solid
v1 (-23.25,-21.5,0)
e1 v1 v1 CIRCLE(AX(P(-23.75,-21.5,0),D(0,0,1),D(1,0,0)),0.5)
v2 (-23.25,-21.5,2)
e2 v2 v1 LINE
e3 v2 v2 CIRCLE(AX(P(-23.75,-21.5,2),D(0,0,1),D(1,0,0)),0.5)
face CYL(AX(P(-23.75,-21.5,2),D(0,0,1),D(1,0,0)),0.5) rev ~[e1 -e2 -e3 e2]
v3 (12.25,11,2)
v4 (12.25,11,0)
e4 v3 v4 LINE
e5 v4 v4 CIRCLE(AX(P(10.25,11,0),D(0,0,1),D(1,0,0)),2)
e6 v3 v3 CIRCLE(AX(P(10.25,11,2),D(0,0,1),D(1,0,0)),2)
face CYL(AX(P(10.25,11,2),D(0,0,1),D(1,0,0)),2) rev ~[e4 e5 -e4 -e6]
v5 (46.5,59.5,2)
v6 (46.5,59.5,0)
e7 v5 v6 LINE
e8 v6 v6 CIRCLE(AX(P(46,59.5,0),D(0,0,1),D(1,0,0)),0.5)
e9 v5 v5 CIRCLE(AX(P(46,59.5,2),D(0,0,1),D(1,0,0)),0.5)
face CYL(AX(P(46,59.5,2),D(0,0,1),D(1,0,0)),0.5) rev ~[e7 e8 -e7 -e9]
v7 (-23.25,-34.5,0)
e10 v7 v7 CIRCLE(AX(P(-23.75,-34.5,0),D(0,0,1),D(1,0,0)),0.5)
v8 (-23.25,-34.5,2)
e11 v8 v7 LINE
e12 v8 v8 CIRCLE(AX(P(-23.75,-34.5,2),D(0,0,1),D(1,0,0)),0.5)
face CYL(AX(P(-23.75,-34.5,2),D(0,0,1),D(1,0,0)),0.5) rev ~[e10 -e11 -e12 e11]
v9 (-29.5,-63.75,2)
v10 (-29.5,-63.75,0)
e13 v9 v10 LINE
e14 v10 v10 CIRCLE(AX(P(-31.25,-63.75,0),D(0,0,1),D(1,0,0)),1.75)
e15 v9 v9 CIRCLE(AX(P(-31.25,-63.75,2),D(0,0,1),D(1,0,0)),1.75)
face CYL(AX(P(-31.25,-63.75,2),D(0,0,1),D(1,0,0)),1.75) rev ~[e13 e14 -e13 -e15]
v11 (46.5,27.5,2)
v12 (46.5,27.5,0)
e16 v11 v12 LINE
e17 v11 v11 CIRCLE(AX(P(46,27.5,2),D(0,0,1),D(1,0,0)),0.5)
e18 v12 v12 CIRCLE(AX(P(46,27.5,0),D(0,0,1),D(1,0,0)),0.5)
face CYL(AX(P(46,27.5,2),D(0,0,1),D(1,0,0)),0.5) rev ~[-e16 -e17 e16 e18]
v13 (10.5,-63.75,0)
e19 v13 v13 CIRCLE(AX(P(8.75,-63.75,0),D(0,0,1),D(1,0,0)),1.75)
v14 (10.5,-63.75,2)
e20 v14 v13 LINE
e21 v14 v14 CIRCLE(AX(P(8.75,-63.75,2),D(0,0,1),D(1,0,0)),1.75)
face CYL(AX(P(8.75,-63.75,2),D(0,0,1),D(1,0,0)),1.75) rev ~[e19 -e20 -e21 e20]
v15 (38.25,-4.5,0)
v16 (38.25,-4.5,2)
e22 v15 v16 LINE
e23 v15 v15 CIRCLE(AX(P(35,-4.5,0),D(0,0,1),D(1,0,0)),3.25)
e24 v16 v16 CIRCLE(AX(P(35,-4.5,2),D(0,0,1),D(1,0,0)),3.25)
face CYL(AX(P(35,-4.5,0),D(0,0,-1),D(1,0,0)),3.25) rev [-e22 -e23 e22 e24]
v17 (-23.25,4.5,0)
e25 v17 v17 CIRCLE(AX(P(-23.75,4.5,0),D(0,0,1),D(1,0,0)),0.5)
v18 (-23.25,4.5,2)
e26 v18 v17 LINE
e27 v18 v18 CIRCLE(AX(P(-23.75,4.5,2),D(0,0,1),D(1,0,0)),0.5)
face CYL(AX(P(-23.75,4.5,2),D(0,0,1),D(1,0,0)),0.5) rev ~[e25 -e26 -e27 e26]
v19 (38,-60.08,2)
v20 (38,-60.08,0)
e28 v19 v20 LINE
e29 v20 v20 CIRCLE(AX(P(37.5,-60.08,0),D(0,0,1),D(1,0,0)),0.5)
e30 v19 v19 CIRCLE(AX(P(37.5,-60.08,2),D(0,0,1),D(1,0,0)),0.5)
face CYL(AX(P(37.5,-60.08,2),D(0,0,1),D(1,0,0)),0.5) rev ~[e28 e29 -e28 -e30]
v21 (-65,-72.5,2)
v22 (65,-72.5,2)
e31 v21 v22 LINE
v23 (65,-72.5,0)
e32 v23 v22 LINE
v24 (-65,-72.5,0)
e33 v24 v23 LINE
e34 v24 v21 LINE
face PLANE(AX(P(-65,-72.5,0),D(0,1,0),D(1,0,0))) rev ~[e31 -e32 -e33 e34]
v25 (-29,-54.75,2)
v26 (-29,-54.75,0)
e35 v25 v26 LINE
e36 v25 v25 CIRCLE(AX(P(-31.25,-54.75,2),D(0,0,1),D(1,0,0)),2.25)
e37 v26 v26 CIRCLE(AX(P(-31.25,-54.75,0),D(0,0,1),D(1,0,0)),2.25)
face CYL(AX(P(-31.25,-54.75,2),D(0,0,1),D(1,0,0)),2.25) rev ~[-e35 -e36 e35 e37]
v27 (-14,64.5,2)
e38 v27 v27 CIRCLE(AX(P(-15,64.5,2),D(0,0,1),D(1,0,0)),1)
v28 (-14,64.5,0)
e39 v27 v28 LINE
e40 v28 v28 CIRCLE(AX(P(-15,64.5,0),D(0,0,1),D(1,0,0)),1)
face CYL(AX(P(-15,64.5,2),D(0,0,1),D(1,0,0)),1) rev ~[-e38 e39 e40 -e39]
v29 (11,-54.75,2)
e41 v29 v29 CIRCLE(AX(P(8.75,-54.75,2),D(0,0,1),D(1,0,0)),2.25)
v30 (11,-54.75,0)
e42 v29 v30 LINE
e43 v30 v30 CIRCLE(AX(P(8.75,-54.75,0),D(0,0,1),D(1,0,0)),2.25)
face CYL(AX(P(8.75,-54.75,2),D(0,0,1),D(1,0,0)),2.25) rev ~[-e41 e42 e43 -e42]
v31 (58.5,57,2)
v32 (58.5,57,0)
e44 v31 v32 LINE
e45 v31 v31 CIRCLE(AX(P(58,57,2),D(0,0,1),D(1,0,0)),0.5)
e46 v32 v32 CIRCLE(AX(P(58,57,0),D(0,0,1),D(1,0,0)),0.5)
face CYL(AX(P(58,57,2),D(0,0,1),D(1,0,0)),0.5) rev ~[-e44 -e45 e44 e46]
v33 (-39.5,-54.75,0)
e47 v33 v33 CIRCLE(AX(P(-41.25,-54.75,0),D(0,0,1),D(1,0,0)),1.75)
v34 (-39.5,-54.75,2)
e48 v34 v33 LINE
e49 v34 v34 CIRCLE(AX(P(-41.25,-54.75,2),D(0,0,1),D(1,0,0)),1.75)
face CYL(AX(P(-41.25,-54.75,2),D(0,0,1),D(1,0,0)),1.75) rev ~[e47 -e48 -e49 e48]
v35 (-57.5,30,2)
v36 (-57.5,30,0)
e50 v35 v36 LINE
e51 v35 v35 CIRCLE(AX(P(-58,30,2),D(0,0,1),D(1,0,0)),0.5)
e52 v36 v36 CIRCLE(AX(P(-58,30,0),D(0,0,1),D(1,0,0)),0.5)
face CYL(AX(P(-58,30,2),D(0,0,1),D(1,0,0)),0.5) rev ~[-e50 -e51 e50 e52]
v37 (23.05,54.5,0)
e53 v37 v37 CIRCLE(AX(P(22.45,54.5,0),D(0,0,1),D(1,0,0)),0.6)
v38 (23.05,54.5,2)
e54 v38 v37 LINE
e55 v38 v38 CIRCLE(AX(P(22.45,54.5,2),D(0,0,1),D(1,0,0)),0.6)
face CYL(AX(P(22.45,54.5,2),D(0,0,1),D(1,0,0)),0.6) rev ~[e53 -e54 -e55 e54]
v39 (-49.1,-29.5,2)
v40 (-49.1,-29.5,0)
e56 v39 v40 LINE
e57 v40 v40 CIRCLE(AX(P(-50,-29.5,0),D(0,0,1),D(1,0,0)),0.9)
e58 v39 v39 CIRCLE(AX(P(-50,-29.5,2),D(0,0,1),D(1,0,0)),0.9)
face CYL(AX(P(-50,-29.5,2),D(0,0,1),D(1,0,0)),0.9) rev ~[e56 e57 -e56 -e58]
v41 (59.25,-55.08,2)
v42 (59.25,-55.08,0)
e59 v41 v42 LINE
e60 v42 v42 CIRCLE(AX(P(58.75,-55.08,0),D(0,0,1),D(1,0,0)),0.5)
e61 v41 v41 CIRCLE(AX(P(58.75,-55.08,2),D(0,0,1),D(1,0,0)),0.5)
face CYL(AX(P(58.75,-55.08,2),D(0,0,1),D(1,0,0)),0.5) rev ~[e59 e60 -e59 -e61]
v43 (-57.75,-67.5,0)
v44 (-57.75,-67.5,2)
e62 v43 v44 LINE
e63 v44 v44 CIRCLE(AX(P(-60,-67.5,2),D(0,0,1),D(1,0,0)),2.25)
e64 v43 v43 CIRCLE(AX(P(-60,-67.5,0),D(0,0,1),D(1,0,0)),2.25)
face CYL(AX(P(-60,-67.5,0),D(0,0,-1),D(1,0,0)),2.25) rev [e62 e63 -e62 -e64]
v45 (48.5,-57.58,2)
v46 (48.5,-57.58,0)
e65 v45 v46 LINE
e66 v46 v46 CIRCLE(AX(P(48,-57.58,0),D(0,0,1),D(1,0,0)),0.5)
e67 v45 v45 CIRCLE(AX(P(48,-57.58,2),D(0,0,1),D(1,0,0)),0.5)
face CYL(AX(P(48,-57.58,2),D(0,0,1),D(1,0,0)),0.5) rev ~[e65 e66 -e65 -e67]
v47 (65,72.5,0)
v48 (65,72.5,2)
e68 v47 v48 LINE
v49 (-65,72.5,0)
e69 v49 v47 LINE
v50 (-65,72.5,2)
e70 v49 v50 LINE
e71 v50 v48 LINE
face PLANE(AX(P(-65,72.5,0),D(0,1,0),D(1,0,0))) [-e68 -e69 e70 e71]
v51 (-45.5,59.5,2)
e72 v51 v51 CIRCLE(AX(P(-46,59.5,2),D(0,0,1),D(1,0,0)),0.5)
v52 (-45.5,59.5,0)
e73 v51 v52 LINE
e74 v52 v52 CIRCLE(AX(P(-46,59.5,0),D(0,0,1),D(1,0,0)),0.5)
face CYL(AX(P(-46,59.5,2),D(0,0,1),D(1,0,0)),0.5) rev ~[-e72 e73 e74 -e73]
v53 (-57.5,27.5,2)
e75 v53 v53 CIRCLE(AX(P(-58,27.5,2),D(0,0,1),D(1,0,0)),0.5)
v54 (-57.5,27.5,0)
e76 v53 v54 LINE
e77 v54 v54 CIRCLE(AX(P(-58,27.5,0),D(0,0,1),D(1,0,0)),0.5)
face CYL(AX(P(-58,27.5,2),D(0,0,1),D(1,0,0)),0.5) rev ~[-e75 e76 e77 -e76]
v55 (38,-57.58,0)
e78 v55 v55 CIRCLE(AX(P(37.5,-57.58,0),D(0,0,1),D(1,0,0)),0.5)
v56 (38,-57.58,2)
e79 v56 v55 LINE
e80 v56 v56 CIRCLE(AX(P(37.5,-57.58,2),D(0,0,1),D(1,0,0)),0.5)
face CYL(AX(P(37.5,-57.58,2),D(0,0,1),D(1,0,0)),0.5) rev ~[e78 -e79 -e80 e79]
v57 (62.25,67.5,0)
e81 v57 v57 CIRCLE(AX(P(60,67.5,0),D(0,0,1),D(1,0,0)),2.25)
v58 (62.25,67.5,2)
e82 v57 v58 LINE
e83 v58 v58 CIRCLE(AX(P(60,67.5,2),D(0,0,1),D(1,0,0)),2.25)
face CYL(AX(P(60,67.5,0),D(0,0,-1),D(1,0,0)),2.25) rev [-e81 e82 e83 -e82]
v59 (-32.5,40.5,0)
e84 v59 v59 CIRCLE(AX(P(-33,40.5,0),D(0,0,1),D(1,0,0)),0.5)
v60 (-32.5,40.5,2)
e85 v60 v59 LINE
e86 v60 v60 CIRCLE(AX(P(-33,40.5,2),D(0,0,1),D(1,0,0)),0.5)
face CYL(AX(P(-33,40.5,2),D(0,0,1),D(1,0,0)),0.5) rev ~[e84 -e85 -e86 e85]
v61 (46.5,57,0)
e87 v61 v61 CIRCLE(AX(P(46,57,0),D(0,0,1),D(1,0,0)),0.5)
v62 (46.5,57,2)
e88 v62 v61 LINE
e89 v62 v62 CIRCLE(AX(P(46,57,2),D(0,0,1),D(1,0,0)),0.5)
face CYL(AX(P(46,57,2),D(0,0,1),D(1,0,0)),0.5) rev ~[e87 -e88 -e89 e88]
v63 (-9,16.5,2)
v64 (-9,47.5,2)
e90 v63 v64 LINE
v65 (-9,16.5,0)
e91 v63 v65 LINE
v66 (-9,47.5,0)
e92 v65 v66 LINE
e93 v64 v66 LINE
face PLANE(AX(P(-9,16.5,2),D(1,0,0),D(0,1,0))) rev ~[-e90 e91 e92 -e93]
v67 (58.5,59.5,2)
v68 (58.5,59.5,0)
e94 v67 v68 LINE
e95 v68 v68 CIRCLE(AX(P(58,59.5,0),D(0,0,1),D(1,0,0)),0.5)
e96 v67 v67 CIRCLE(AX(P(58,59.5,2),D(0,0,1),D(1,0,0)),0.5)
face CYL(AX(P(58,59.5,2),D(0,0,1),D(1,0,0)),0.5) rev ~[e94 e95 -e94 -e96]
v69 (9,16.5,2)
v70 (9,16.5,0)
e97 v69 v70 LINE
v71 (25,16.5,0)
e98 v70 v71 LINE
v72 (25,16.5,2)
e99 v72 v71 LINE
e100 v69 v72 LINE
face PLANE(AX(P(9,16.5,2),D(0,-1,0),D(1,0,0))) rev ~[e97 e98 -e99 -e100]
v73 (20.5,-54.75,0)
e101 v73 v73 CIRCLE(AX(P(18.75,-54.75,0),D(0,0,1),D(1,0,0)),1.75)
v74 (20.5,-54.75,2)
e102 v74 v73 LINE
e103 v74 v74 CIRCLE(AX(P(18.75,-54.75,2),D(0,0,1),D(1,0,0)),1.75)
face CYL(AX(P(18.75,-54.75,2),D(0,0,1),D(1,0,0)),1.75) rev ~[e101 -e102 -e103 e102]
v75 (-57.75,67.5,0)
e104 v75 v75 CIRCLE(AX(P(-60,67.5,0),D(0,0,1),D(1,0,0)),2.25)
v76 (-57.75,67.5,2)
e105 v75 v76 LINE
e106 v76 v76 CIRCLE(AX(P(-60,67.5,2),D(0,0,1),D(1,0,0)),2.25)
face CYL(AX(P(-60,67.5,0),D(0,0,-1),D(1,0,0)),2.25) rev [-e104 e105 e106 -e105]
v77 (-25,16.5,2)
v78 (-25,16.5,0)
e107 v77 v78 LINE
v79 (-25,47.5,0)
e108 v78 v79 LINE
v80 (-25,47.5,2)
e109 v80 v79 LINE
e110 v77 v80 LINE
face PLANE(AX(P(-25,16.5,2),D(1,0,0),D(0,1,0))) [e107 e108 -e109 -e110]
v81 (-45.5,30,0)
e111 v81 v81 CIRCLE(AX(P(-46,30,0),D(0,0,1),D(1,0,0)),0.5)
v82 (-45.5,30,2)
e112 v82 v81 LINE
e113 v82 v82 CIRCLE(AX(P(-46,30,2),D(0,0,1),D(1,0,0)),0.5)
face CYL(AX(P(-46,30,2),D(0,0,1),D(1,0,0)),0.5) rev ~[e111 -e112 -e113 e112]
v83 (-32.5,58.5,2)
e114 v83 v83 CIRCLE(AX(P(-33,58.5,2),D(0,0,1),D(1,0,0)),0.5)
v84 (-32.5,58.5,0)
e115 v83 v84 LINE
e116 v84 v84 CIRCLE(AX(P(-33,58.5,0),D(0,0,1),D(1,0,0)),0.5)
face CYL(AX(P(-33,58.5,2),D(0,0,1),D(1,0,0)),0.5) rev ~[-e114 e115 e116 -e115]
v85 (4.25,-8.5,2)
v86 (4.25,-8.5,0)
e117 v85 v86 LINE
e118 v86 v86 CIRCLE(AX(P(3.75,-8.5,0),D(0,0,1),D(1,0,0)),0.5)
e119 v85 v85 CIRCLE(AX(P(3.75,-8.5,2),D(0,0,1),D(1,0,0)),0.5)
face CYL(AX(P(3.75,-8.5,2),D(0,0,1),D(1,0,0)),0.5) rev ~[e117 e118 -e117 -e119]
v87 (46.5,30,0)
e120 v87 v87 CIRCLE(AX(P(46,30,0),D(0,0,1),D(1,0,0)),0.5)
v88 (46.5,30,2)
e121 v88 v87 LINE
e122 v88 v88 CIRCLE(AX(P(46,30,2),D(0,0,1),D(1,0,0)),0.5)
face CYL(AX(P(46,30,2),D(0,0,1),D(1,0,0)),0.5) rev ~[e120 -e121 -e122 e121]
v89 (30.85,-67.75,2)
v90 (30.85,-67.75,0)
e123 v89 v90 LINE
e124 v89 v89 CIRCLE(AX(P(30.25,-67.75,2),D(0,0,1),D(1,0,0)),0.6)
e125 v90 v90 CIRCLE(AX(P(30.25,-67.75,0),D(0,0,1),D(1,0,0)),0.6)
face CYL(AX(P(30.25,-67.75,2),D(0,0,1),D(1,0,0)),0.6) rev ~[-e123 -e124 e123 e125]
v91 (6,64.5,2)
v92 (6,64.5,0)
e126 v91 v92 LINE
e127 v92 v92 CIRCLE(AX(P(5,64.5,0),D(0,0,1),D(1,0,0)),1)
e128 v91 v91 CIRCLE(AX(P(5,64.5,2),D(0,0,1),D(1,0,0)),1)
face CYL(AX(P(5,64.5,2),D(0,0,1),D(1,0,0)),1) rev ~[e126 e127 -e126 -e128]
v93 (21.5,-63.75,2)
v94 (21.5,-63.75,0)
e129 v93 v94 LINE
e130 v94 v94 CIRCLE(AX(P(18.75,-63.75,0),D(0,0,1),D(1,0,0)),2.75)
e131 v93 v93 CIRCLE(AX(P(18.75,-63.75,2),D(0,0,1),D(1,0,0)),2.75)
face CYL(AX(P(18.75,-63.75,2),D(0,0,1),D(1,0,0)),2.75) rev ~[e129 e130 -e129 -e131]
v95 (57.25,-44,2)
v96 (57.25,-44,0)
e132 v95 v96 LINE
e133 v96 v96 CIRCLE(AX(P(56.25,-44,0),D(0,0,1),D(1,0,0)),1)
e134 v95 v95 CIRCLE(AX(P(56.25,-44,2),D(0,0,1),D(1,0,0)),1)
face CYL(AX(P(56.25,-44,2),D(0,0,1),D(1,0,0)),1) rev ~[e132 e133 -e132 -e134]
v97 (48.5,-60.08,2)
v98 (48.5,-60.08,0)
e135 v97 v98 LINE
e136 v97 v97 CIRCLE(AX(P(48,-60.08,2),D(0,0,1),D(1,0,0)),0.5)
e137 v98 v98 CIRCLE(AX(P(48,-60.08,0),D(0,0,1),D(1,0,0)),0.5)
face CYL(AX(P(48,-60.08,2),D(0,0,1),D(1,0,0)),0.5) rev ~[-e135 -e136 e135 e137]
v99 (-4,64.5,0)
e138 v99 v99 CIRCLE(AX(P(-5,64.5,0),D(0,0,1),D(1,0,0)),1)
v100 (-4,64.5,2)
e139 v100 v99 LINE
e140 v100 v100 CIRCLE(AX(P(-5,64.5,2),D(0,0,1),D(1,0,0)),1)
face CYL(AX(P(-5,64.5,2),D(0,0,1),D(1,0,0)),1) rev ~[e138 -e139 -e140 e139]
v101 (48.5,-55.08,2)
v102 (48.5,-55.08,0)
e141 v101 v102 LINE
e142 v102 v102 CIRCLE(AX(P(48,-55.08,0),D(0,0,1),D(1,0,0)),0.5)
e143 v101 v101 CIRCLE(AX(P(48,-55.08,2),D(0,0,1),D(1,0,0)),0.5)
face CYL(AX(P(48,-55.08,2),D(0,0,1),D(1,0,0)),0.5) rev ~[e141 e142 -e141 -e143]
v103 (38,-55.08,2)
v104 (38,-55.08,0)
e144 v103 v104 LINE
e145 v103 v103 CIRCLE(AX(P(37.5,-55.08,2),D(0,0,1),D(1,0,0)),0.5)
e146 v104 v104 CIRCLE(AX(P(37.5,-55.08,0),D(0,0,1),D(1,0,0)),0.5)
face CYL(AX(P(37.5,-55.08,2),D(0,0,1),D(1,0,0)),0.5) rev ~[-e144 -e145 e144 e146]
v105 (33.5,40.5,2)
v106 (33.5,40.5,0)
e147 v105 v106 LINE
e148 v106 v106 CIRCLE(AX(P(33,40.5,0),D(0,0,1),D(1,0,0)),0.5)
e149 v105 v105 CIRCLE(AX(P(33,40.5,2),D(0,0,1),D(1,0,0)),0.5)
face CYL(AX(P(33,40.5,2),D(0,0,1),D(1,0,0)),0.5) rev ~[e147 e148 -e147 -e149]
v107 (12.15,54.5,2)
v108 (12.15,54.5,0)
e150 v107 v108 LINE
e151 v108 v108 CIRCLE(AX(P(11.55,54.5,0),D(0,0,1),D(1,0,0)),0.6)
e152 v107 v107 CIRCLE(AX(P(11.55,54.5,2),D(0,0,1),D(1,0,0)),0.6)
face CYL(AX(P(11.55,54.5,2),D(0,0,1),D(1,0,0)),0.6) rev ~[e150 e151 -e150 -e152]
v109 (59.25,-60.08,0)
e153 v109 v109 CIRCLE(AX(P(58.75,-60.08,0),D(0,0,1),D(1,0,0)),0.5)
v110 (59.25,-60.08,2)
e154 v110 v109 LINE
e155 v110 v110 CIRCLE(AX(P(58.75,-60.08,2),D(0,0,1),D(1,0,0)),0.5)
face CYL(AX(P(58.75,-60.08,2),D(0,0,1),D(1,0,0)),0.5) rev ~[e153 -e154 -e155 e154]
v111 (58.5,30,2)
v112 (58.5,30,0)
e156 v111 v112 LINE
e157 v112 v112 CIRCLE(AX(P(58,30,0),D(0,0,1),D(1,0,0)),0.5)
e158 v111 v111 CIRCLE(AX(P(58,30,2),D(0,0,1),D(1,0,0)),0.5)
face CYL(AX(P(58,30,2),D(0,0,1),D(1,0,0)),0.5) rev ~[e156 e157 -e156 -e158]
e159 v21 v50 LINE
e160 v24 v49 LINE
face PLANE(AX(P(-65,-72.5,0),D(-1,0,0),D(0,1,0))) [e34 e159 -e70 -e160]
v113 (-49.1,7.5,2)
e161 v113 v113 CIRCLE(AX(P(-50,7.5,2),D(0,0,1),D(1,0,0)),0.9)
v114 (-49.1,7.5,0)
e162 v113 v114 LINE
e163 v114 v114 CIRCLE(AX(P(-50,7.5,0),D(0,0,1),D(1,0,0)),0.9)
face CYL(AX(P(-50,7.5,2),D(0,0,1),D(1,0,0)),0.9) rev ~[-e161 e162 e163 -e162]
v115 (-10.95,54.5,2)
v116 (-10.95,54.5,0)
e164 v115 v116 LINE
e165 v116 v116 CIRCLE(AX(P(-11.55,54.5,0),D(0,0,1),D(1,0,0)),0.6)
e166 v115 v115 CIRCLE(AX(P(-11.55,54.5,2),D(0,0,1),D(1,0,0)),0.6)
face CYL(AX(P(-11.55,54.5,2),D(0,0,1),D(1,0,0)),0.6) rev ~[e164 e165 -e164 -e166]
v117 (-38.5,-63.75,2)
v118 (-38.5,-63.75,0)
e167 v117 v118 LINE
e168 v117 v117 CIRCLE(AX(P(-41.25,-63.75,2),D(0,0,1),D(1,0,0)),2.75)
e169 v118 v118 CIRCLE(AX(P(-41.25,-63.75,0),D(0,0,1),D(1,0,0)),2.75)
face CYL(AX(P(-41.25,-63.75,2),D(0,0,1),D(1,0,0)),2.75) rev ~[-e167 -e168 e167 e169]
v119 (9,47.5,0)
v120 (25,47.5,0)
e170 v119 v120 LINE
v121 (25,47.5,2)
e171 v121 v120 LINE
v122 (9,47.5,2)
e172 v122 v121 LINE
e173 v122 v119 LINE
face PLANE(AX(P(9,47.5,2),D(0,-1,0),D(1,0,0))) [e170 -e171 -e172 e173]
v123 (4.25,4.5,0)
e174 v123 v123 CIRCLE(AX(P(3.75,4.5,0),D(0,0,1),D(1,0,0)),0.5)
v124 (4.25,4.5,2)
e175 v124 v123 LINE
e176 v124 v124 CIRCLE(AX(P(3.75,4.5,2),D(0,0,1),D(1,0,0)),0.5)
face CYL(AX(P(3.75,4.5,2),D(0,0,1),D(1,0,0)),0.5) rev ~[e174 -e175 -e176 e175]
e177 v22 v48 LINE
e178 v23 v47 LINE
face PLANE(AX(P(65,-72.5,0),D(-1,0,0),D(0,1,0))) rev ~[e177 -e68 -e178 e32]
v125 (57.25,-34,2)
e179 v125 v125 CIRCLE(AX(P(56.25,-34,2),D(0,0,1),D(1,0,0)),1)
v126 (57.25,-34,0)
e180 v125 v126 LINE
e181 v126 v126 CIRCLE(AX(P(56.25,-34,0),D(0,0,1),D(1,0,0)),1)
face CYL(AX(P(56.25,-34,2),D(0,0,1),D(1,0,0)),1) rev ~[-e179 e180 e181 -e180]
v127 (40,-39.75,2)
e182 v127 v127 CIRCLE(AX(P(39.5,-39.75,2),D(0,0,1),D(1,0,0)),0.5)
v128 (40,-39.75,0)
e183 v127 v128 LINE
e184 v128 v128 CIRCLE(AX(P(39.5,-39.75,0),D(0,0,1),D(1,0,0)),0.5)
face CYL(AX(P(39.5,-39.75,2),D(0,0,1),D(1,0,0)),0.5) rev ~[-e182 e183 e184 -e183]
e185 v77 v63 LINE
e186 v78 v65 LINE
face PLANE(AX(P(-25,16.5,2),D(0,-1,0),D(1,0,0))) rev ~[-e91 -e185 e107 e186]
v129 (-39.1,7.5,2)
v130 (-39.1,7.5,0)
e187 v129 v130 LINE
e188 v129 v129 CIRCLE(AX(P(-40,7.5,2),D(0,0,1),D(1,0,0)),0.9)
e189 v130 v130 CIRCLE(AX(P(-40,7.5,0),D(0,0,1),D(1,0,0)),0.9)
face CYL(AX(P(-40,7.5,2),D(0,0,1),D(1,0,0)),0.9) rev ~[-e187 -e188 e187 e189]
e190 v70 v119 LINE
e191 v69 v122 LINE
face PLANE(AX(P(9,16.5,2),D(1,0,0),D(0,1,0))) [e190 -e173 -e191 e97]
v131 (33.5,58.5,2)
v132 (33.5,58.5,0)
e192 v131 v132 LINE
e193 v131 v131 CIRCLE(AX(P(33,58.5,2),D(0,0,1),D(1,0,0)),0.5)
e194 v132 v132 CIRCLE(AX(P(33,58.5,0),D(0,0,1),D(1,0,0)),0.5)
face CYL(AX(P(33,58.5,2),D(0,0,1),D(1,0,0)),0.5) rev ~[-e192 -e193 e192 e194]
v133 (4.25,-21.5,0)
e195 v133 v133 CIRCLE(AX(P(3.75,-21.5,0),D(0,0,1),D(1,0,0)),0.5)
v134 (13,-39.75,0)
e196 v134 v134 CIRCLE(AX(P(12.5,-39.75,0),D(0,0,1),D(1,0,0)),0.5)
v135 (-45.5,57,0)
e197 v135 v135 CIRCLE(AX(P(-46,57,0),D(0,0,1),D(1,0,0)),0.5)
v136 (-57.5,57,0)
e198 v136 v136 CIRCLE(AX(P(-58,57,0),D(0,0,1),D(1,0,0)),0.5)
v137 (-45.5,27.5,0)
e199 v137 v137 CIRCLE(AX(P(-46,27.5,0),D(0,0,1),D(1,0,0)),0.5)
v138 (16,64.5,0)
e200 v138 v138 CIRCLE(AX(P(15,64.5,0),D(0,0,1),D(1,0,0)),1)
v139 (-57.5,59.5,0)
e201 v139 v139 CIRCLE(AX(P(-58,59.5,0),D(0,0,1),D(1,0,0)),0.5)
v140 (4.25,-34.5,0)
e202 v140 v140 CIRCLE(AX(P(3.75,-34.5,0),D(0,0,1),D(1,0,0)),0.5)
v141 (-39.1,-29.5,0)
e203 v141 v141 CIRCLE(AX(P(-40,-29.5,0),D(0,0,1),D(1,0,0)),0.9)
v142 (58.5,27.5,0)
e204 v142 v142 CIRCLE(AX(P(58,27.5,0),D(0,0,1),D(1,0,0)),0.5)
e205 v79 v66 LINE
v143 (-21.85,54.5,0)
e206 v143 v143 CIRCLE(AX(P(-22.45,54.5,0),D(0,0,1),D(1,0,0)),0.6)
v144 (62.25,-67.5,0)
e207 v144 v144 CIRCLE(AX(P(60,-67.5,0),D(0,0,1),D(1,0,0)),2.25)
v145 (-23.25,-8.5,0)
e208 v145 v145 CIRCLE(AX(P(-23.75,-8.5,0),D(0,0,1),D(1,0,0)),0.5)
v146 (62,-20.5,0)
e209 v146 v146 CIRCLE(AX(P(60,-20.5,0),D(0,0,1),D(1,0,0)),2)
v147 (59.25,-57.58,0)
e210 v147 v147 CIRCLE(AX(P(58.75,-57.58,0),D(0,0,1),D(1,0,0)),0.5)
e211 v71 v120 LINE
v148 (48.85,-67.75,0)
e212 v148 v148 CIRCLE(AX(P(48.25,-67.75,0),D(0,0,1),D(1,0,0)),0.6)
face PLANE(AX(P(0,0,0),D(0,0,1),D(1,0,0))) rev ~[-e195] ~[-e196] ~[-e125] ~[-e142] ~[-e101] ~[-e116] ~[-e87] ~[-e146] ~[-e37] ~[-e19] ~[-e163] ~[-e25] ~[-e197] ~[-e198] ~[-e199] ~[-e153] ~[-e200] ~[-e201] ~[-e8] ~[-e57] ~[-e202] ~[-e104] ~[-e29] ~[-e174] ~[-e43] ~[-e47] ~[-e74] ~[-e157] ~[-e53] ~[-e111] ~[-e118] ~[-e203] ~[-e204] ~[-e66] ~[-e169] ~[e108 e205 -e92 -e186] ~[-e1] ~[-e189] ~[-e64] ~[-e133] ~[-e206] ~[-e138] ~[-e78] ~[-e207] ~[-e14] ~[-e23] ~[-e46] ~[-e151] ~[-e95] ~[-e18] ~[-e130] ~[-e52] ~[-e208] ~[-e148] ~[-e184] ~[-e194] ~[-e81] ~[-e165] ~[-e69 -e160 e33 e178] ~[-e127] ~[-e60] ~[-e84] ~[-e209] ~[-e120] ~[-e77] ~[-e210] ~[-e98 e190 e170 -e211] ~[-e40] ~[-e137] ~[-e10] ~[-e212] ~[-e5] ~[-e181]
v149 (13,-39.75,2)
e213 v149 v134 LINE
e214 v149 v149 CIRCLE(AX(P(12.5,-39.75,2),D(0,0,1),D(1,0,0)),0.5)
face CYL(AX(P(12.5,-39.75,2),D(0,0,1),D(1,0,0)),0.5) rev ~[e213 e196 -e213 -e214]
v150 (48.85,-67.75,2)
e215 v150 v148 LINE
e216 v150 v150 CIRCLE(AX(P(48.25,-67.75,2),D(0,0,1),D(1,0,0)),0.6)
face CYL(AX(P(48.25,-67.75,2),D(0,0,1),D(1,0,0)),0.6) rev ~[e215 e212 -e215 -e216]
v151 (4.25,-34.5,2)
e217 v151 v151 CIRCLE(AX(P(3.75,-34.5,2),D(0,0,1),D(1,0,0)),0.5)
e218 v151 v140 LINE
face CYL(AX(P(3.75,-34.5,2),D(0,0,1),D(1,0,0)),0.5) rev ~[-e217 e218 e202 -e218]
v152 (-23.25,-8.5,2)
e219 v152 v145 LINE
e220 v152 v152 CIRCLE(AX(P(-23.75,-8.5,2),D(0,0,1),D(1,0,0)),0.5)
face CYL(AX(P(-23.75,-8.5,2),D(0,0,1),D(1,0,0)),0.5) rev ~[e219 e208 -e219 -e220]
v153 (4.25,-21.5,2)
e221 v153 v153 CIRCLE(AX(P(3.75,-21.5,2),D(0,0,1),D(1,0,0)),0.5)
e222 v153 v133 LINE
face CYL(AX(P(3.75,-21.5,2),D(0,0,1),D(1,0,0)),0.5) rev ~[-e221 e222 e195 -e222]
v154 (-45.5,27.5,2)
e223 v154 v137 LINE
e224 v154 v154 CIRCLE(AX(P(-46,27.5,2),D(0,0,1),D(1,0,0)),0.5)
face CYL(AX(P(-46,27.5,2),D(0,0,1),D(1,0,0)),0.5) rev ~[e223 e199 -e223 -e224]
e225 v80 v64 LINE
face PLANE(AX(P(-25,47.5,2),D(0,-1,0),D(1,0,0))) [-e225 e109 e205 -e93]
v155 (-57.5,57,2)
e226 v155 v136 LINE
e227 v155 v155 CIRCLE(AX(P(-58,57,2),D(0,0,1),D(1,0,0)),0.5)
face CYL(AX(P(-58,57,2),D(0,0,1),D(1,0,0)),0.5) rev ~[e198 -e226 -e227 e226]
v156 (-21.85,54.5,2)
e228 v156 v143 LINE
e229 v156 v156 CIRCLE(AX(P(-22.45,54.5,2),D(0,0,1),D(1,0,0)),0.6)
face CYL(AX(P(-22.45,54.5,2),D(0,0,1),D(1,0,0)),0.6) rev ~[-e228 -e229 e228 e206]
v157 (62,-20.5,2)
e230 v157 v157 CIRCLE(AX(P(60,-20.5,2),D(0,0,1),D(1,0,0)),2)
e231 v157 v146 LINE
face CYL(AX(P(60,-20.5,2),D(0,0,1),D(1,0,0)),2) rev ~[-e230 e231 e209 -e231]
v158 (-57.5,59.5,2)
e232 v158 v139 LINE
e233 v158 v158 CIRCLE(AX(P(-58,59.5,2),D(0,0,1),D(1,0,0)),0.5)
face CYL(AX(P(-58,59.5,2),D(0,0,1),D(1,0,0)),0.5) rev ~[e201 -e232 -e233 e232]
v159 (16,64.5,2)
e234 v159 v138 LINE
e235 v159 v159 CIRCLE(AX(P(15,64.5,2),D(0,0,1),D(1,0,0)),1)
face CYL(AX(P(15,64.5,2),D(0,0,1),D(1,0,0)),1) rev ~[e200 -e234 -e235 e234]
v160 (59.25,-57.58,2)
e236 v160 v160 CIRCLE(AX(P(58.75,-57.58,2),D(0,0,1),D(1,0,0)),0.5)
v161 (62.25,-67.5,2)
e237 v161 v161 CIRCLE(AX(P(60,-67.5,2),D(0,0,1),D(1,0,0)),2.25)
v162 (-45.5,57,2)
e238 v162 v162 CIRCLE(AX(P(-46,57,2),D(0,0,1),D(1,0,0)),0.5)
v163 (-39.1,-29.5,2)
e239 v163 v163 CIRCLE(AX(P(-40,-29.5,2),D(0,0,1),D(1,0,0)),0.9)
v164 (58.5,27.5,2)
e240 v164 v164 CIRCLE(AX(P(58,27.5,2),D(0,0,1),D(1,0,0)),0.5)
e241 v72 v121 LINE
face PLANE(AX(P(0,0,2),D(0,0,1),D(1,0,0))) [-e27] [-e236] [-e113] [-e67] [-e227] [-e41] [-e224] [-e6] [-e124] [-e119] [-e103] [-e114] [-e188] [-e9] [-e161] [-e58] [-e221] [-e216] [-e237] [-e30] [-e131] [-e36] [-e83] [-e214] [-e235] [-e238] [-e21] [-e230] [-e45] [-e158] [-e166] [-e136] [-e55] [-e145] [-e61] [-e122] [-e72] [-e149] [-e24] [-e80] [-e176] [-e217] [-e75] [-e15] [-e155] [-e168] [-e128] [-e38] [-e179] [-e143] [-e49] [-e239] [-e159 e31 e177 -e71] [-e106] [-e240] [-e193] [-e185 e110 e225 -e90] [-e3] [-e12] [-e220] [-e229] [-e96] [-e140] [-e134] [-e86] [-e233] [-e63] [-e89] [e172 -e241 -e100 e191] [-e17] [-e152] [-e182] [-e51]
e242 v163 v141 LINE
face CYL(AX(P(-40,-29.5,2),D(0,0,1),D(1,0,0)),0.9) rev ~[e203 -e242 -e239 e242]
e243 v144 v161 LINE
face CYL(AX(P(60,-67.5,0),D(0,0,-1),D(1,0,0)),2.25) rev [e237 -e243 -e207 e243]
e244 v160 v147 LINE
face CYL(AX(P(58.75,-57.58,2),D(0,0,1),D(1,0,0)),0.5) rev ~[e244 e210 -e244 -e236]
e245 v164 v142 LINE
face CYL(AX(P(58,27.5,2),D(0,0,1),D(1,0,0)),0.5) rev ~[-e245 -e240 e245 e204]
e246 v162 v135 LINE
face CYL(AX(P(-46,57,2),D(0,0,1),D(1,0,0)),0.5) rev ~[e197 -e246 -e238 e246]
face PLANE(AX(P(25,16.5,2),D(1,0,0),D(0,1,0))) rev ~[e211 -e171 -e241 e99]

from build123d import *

# Parameters (mm, degrees)
SKETCH_1_W          = 130
SKETCH_1_H          = 145
SKETCH_1_R          = 2.25
SKETCH_1_R_2        = 3.25
EXTRUDE_1_DEPTH     = 2
SKETCH_2_R          = 1.75
SKETCH_2_R_2        = 0.5
SKETCH_2_R_3        = 1
SKETCH_2_R_4        = 2
SKETCH_2_R_5        = 2.75
SKETCH_2_R_6        = 2.25
CUT_EXTRUDE_1_DEPTH = 2
SKETCH_3_R          = 1
SKETCH_3_R_2        = 0.6
SKETCH_3_W          = 16
SKETCH_3_H          = 31
CUT_EXTRUDE_2_DEPTH = 2
SKETCH_4_R          = 0.9
SKETCH_4_R_2        = 0.5
SKETCH_4_R_3        = 0.6
CUT_EXTRUDE_3_DEPTH = 2
SKETCH_5_R          = 0.5
CUT_EXTRUDE_4_DEPTH = 2


with BuildPart() as part:
    # Эскиз1 → Вытянуть1 (new body)
    with BuildSketch(Plane.XY):
        Rectangle(SKETCH_1_W, SKETCH_1_H)
        with Locations((-60, -67.5)):
            Circle(SKETCH_1_R, mode=Mode.SUBTRACT)
        with Locations((60, -67.5)):
            Circle(SKETCH_1_R, mode=Mode.SUBTRACT)
        with Locations((60, 67.5)):
            Circle(SKETCH_1_R, mode=Mode.SUBTRACT)
        with Locations((-60, 67.5)):
            Circle(SKETCH_1_R, mode=Mode.SUBTRACT)
        with Locations((35, -4.5)):
            Circle(SKETCH_1_R_2, mode=Mode.SUBTRACT)
    extrude(amount=EXTRUDE_1_DEPTH)

    # Эскиз2 → Вырез-Вытянуть1 (cut)
    with BuildSketch(Plane.XY.offset(2)):
        with Locations((-41.25, -54.75)):
            Circle(SKETCH_2_R)
        with Locations((18.75, -54.75)):
            Circle(SKETCH_2_R)
        with Locations((37.5, -55.08)):
            Circle(SKETCH_2_R_2)
        with Locations((37.5, -57.58)):
            Circle(SKETCH_2_R_2)
        with Locations((37.5, -60.08)):
            Circle(SKETCH_2_R_2)
        with Locations((48, -57.58)):
            Circle(SKETCH_2_R_2)
        with Locations((48, -60.08)):
            Circle(SKETCH_2_R_2)
        with Locations((48, -55.08)):
            Circle(SKETCH_2_R_2)
        with Locations((58.75, -55.08)):
            Circle(SKETCH_2_R_2)
        with Locations((58.75, -57.58)):
            Circle(SKETCH_2_R_2)
        with Locations((58.75, -60.08)):
            Circle(SKETCH_2_R_2)
        with Locations((-15, 64.5)):
            Circle(SKETCH_2_R_3)
        with Locations((-5, 64.5)):
            Circle(SKETCH_2_R_3)
        with Locations((5, 64.5)):
            Circle(SKETCH_2_R_3)
        with Locations((15, 64.5)):
            Circle(SKETCH_2_R_3)
        with Locations((60, -20.5)):
            Circle(SKETCH_2_R_4)
        with Locations((10.25, 11)):
            Circle(SKETCH_2_R_4)
        with Locations((-41.25, -63.75)):
            Circle(SKETCH_2_R_5)
        with Locations((18.75, -63.75)):
            Circle(SKETCH_2_R_5)
        with Locations((-31.25, -63.75)):
            Circle(SKETCH_2_R)
        with Locations((8.75, -63.75)):
            Circle(SKETCH_2_R)
        with Locations((8.75, -54.75)):
            Circle(SKETCH_2_R_6)
        with Locations((-31.25, -54.75)):
            Circle(SKETCH_2_R_6)
    extrude(amount=-CUT_EXTRUDE_1_DEPTH, mode=Mode.SUBTRACT)

    # Эскиз3 → Вырез-Вытянуть2 (cut)
    with BuildSketch(Plane.XY.offset(2)):
        with Locations((56.25, -34)):
            Circle(SKETCH_3_R)
        with Locations((-22.45, 54.5)):
            Circle(SKETCH_3_R_2)
        with Locations((-11.55, 54.5)):
            Circle(SKETCH_3_R_2)
        with Locations((11.55, 54.5)):
            Circle(SKETCH_3_R_2)
        with Locations((22.45, 54.5)):
            Circle(SKETCH_3_R_2)
        with Locations((56.25, -44)):
            Circle(SKETCH_3_R)
        with Locations((17, 32)):
            Rectangle(SKETCH_3_W, SKETCH_3_H)
        with Locations((-17, 32)):
            Rectangle(SKETCH_3_W, SKETCH_3_H)
    extrude(amount=-CUT_EXTRUDE_2_DEPTH, mode=Mode.SUBTRACT)

    # Эскиз4 → Вырез-Вытянуть3 (cut)
    with BuildSketch(Plane.XY.offset(2)):
        with Locations((-50, 7.5)):
            Circle(SKETCH_4_R)
        with Locations((-40, 7.5)):
            Circle(SKETCH_4_R)
        with Locations((-40, -29.5)):
            Circle(SKETCH_4_R)
        with Locations((-50, -29.5)):
            Circle(SKETCH_4_R)
        with Locations((-23.75, -21.5)):
            Circle(SKETCH_4_R_2)
        with Locations((3.75, -21.5)):
            Circle(SKETCH_4_R_2)
        with Locations((-23.75, -34.5)):
            Circle(SKETCH_4_R_2)
        with Locations((3.75, -34.5)):
            Circle(SKETCH_4_R_2)
        with Locations((-23.75, -8.5)):
            Circle(SKETCH_4_R_2)
        with Locations((3.75, -8.5)):
            Circle(SKETCH_4_R_2)
        with Locations((-23.75, 4.5)):
            Circle(SKETCH_4_R_2)
        with Locations((3.75, 4.5)):
            Circle(SKETCH_4_R_2)
        with Locations((30.25, -67.75)):
            Circle(SKETCH_4_R_3)
        with Locations((48.25, -67.75)):
            Circle(SKETCH_4_R_3)
        with Locations((33, 40.5)):
            Circle(SKETCH_4_R_2)
        with Locations((33, 58.5)):
            Circle(SKETCH_4_R_2)
        with Locations((-33, 40.5)):
            Circle(SKETCH_4_R_2)
        with Locations((-33, 58.5)):
            Circle(SKETCH_4_R_2)
    extrude(amount=-CUT_EXTRUDE_3_DEPTH, mode=Mode.SUBTRACT)

    # Эскиз5 → Вырез-Вытянуть4 (cut)
    with BuildSketch(Plane.XY.offset(2)):
        with Locations((-58, 30)):
            Circle(SKETCH_5_R)
        with Locations((-58, 57)):
            Circle(SKETCH_5_R)
        with Locations((-46, 30)):
            Circle(SKETCH_5_R)
        with Locations((-46, 57)):
            Circle(SKETCH_5_R)
        with Locations((46, 30)):
            Circle(SKETCH_5_R)
        with Locations((46, 57)):
            Circle(SKETCH_5_R)
        with Locations((58, 30)):
            Circle(SKETCH_5_R)
        with Locations((58, 57)):
            Circle(SKETCH_5_R)
        with Locations((-58, 27.5)):
            Circle(SKETCH_5_R)
        with Locations((-58, 59.5)):
            Circle(SKETCH_5_R)
        with Locations((-46, 59.5)):
            Circle(SKETCH_5_R)
        with Locations((-46, 27.5)):
            Circle(SKETCH_5_R)
        with Locations((46, 59.5)):
            Circle(SKETCH_5_R)
        with Locations((58, 59.5)):
            Circle(SKETCH_5_R)
        with Locations((46, 27.5)):
            Circle(SKETCH_5_R)
        with Locations((58, 27.5)):
            Circle(SKETCH_5_R)
        with Locations((12.5, -39.75)):
            Circle(SKETCH_5_R)
        with Locations((39.5, -39.75)):
            Circle(SKETCH_5_R)
    extrude(amount=-CUT_EXTRUDE_4_DEPTH, mode=Mode.SUBTRACT)


solid = part.part
